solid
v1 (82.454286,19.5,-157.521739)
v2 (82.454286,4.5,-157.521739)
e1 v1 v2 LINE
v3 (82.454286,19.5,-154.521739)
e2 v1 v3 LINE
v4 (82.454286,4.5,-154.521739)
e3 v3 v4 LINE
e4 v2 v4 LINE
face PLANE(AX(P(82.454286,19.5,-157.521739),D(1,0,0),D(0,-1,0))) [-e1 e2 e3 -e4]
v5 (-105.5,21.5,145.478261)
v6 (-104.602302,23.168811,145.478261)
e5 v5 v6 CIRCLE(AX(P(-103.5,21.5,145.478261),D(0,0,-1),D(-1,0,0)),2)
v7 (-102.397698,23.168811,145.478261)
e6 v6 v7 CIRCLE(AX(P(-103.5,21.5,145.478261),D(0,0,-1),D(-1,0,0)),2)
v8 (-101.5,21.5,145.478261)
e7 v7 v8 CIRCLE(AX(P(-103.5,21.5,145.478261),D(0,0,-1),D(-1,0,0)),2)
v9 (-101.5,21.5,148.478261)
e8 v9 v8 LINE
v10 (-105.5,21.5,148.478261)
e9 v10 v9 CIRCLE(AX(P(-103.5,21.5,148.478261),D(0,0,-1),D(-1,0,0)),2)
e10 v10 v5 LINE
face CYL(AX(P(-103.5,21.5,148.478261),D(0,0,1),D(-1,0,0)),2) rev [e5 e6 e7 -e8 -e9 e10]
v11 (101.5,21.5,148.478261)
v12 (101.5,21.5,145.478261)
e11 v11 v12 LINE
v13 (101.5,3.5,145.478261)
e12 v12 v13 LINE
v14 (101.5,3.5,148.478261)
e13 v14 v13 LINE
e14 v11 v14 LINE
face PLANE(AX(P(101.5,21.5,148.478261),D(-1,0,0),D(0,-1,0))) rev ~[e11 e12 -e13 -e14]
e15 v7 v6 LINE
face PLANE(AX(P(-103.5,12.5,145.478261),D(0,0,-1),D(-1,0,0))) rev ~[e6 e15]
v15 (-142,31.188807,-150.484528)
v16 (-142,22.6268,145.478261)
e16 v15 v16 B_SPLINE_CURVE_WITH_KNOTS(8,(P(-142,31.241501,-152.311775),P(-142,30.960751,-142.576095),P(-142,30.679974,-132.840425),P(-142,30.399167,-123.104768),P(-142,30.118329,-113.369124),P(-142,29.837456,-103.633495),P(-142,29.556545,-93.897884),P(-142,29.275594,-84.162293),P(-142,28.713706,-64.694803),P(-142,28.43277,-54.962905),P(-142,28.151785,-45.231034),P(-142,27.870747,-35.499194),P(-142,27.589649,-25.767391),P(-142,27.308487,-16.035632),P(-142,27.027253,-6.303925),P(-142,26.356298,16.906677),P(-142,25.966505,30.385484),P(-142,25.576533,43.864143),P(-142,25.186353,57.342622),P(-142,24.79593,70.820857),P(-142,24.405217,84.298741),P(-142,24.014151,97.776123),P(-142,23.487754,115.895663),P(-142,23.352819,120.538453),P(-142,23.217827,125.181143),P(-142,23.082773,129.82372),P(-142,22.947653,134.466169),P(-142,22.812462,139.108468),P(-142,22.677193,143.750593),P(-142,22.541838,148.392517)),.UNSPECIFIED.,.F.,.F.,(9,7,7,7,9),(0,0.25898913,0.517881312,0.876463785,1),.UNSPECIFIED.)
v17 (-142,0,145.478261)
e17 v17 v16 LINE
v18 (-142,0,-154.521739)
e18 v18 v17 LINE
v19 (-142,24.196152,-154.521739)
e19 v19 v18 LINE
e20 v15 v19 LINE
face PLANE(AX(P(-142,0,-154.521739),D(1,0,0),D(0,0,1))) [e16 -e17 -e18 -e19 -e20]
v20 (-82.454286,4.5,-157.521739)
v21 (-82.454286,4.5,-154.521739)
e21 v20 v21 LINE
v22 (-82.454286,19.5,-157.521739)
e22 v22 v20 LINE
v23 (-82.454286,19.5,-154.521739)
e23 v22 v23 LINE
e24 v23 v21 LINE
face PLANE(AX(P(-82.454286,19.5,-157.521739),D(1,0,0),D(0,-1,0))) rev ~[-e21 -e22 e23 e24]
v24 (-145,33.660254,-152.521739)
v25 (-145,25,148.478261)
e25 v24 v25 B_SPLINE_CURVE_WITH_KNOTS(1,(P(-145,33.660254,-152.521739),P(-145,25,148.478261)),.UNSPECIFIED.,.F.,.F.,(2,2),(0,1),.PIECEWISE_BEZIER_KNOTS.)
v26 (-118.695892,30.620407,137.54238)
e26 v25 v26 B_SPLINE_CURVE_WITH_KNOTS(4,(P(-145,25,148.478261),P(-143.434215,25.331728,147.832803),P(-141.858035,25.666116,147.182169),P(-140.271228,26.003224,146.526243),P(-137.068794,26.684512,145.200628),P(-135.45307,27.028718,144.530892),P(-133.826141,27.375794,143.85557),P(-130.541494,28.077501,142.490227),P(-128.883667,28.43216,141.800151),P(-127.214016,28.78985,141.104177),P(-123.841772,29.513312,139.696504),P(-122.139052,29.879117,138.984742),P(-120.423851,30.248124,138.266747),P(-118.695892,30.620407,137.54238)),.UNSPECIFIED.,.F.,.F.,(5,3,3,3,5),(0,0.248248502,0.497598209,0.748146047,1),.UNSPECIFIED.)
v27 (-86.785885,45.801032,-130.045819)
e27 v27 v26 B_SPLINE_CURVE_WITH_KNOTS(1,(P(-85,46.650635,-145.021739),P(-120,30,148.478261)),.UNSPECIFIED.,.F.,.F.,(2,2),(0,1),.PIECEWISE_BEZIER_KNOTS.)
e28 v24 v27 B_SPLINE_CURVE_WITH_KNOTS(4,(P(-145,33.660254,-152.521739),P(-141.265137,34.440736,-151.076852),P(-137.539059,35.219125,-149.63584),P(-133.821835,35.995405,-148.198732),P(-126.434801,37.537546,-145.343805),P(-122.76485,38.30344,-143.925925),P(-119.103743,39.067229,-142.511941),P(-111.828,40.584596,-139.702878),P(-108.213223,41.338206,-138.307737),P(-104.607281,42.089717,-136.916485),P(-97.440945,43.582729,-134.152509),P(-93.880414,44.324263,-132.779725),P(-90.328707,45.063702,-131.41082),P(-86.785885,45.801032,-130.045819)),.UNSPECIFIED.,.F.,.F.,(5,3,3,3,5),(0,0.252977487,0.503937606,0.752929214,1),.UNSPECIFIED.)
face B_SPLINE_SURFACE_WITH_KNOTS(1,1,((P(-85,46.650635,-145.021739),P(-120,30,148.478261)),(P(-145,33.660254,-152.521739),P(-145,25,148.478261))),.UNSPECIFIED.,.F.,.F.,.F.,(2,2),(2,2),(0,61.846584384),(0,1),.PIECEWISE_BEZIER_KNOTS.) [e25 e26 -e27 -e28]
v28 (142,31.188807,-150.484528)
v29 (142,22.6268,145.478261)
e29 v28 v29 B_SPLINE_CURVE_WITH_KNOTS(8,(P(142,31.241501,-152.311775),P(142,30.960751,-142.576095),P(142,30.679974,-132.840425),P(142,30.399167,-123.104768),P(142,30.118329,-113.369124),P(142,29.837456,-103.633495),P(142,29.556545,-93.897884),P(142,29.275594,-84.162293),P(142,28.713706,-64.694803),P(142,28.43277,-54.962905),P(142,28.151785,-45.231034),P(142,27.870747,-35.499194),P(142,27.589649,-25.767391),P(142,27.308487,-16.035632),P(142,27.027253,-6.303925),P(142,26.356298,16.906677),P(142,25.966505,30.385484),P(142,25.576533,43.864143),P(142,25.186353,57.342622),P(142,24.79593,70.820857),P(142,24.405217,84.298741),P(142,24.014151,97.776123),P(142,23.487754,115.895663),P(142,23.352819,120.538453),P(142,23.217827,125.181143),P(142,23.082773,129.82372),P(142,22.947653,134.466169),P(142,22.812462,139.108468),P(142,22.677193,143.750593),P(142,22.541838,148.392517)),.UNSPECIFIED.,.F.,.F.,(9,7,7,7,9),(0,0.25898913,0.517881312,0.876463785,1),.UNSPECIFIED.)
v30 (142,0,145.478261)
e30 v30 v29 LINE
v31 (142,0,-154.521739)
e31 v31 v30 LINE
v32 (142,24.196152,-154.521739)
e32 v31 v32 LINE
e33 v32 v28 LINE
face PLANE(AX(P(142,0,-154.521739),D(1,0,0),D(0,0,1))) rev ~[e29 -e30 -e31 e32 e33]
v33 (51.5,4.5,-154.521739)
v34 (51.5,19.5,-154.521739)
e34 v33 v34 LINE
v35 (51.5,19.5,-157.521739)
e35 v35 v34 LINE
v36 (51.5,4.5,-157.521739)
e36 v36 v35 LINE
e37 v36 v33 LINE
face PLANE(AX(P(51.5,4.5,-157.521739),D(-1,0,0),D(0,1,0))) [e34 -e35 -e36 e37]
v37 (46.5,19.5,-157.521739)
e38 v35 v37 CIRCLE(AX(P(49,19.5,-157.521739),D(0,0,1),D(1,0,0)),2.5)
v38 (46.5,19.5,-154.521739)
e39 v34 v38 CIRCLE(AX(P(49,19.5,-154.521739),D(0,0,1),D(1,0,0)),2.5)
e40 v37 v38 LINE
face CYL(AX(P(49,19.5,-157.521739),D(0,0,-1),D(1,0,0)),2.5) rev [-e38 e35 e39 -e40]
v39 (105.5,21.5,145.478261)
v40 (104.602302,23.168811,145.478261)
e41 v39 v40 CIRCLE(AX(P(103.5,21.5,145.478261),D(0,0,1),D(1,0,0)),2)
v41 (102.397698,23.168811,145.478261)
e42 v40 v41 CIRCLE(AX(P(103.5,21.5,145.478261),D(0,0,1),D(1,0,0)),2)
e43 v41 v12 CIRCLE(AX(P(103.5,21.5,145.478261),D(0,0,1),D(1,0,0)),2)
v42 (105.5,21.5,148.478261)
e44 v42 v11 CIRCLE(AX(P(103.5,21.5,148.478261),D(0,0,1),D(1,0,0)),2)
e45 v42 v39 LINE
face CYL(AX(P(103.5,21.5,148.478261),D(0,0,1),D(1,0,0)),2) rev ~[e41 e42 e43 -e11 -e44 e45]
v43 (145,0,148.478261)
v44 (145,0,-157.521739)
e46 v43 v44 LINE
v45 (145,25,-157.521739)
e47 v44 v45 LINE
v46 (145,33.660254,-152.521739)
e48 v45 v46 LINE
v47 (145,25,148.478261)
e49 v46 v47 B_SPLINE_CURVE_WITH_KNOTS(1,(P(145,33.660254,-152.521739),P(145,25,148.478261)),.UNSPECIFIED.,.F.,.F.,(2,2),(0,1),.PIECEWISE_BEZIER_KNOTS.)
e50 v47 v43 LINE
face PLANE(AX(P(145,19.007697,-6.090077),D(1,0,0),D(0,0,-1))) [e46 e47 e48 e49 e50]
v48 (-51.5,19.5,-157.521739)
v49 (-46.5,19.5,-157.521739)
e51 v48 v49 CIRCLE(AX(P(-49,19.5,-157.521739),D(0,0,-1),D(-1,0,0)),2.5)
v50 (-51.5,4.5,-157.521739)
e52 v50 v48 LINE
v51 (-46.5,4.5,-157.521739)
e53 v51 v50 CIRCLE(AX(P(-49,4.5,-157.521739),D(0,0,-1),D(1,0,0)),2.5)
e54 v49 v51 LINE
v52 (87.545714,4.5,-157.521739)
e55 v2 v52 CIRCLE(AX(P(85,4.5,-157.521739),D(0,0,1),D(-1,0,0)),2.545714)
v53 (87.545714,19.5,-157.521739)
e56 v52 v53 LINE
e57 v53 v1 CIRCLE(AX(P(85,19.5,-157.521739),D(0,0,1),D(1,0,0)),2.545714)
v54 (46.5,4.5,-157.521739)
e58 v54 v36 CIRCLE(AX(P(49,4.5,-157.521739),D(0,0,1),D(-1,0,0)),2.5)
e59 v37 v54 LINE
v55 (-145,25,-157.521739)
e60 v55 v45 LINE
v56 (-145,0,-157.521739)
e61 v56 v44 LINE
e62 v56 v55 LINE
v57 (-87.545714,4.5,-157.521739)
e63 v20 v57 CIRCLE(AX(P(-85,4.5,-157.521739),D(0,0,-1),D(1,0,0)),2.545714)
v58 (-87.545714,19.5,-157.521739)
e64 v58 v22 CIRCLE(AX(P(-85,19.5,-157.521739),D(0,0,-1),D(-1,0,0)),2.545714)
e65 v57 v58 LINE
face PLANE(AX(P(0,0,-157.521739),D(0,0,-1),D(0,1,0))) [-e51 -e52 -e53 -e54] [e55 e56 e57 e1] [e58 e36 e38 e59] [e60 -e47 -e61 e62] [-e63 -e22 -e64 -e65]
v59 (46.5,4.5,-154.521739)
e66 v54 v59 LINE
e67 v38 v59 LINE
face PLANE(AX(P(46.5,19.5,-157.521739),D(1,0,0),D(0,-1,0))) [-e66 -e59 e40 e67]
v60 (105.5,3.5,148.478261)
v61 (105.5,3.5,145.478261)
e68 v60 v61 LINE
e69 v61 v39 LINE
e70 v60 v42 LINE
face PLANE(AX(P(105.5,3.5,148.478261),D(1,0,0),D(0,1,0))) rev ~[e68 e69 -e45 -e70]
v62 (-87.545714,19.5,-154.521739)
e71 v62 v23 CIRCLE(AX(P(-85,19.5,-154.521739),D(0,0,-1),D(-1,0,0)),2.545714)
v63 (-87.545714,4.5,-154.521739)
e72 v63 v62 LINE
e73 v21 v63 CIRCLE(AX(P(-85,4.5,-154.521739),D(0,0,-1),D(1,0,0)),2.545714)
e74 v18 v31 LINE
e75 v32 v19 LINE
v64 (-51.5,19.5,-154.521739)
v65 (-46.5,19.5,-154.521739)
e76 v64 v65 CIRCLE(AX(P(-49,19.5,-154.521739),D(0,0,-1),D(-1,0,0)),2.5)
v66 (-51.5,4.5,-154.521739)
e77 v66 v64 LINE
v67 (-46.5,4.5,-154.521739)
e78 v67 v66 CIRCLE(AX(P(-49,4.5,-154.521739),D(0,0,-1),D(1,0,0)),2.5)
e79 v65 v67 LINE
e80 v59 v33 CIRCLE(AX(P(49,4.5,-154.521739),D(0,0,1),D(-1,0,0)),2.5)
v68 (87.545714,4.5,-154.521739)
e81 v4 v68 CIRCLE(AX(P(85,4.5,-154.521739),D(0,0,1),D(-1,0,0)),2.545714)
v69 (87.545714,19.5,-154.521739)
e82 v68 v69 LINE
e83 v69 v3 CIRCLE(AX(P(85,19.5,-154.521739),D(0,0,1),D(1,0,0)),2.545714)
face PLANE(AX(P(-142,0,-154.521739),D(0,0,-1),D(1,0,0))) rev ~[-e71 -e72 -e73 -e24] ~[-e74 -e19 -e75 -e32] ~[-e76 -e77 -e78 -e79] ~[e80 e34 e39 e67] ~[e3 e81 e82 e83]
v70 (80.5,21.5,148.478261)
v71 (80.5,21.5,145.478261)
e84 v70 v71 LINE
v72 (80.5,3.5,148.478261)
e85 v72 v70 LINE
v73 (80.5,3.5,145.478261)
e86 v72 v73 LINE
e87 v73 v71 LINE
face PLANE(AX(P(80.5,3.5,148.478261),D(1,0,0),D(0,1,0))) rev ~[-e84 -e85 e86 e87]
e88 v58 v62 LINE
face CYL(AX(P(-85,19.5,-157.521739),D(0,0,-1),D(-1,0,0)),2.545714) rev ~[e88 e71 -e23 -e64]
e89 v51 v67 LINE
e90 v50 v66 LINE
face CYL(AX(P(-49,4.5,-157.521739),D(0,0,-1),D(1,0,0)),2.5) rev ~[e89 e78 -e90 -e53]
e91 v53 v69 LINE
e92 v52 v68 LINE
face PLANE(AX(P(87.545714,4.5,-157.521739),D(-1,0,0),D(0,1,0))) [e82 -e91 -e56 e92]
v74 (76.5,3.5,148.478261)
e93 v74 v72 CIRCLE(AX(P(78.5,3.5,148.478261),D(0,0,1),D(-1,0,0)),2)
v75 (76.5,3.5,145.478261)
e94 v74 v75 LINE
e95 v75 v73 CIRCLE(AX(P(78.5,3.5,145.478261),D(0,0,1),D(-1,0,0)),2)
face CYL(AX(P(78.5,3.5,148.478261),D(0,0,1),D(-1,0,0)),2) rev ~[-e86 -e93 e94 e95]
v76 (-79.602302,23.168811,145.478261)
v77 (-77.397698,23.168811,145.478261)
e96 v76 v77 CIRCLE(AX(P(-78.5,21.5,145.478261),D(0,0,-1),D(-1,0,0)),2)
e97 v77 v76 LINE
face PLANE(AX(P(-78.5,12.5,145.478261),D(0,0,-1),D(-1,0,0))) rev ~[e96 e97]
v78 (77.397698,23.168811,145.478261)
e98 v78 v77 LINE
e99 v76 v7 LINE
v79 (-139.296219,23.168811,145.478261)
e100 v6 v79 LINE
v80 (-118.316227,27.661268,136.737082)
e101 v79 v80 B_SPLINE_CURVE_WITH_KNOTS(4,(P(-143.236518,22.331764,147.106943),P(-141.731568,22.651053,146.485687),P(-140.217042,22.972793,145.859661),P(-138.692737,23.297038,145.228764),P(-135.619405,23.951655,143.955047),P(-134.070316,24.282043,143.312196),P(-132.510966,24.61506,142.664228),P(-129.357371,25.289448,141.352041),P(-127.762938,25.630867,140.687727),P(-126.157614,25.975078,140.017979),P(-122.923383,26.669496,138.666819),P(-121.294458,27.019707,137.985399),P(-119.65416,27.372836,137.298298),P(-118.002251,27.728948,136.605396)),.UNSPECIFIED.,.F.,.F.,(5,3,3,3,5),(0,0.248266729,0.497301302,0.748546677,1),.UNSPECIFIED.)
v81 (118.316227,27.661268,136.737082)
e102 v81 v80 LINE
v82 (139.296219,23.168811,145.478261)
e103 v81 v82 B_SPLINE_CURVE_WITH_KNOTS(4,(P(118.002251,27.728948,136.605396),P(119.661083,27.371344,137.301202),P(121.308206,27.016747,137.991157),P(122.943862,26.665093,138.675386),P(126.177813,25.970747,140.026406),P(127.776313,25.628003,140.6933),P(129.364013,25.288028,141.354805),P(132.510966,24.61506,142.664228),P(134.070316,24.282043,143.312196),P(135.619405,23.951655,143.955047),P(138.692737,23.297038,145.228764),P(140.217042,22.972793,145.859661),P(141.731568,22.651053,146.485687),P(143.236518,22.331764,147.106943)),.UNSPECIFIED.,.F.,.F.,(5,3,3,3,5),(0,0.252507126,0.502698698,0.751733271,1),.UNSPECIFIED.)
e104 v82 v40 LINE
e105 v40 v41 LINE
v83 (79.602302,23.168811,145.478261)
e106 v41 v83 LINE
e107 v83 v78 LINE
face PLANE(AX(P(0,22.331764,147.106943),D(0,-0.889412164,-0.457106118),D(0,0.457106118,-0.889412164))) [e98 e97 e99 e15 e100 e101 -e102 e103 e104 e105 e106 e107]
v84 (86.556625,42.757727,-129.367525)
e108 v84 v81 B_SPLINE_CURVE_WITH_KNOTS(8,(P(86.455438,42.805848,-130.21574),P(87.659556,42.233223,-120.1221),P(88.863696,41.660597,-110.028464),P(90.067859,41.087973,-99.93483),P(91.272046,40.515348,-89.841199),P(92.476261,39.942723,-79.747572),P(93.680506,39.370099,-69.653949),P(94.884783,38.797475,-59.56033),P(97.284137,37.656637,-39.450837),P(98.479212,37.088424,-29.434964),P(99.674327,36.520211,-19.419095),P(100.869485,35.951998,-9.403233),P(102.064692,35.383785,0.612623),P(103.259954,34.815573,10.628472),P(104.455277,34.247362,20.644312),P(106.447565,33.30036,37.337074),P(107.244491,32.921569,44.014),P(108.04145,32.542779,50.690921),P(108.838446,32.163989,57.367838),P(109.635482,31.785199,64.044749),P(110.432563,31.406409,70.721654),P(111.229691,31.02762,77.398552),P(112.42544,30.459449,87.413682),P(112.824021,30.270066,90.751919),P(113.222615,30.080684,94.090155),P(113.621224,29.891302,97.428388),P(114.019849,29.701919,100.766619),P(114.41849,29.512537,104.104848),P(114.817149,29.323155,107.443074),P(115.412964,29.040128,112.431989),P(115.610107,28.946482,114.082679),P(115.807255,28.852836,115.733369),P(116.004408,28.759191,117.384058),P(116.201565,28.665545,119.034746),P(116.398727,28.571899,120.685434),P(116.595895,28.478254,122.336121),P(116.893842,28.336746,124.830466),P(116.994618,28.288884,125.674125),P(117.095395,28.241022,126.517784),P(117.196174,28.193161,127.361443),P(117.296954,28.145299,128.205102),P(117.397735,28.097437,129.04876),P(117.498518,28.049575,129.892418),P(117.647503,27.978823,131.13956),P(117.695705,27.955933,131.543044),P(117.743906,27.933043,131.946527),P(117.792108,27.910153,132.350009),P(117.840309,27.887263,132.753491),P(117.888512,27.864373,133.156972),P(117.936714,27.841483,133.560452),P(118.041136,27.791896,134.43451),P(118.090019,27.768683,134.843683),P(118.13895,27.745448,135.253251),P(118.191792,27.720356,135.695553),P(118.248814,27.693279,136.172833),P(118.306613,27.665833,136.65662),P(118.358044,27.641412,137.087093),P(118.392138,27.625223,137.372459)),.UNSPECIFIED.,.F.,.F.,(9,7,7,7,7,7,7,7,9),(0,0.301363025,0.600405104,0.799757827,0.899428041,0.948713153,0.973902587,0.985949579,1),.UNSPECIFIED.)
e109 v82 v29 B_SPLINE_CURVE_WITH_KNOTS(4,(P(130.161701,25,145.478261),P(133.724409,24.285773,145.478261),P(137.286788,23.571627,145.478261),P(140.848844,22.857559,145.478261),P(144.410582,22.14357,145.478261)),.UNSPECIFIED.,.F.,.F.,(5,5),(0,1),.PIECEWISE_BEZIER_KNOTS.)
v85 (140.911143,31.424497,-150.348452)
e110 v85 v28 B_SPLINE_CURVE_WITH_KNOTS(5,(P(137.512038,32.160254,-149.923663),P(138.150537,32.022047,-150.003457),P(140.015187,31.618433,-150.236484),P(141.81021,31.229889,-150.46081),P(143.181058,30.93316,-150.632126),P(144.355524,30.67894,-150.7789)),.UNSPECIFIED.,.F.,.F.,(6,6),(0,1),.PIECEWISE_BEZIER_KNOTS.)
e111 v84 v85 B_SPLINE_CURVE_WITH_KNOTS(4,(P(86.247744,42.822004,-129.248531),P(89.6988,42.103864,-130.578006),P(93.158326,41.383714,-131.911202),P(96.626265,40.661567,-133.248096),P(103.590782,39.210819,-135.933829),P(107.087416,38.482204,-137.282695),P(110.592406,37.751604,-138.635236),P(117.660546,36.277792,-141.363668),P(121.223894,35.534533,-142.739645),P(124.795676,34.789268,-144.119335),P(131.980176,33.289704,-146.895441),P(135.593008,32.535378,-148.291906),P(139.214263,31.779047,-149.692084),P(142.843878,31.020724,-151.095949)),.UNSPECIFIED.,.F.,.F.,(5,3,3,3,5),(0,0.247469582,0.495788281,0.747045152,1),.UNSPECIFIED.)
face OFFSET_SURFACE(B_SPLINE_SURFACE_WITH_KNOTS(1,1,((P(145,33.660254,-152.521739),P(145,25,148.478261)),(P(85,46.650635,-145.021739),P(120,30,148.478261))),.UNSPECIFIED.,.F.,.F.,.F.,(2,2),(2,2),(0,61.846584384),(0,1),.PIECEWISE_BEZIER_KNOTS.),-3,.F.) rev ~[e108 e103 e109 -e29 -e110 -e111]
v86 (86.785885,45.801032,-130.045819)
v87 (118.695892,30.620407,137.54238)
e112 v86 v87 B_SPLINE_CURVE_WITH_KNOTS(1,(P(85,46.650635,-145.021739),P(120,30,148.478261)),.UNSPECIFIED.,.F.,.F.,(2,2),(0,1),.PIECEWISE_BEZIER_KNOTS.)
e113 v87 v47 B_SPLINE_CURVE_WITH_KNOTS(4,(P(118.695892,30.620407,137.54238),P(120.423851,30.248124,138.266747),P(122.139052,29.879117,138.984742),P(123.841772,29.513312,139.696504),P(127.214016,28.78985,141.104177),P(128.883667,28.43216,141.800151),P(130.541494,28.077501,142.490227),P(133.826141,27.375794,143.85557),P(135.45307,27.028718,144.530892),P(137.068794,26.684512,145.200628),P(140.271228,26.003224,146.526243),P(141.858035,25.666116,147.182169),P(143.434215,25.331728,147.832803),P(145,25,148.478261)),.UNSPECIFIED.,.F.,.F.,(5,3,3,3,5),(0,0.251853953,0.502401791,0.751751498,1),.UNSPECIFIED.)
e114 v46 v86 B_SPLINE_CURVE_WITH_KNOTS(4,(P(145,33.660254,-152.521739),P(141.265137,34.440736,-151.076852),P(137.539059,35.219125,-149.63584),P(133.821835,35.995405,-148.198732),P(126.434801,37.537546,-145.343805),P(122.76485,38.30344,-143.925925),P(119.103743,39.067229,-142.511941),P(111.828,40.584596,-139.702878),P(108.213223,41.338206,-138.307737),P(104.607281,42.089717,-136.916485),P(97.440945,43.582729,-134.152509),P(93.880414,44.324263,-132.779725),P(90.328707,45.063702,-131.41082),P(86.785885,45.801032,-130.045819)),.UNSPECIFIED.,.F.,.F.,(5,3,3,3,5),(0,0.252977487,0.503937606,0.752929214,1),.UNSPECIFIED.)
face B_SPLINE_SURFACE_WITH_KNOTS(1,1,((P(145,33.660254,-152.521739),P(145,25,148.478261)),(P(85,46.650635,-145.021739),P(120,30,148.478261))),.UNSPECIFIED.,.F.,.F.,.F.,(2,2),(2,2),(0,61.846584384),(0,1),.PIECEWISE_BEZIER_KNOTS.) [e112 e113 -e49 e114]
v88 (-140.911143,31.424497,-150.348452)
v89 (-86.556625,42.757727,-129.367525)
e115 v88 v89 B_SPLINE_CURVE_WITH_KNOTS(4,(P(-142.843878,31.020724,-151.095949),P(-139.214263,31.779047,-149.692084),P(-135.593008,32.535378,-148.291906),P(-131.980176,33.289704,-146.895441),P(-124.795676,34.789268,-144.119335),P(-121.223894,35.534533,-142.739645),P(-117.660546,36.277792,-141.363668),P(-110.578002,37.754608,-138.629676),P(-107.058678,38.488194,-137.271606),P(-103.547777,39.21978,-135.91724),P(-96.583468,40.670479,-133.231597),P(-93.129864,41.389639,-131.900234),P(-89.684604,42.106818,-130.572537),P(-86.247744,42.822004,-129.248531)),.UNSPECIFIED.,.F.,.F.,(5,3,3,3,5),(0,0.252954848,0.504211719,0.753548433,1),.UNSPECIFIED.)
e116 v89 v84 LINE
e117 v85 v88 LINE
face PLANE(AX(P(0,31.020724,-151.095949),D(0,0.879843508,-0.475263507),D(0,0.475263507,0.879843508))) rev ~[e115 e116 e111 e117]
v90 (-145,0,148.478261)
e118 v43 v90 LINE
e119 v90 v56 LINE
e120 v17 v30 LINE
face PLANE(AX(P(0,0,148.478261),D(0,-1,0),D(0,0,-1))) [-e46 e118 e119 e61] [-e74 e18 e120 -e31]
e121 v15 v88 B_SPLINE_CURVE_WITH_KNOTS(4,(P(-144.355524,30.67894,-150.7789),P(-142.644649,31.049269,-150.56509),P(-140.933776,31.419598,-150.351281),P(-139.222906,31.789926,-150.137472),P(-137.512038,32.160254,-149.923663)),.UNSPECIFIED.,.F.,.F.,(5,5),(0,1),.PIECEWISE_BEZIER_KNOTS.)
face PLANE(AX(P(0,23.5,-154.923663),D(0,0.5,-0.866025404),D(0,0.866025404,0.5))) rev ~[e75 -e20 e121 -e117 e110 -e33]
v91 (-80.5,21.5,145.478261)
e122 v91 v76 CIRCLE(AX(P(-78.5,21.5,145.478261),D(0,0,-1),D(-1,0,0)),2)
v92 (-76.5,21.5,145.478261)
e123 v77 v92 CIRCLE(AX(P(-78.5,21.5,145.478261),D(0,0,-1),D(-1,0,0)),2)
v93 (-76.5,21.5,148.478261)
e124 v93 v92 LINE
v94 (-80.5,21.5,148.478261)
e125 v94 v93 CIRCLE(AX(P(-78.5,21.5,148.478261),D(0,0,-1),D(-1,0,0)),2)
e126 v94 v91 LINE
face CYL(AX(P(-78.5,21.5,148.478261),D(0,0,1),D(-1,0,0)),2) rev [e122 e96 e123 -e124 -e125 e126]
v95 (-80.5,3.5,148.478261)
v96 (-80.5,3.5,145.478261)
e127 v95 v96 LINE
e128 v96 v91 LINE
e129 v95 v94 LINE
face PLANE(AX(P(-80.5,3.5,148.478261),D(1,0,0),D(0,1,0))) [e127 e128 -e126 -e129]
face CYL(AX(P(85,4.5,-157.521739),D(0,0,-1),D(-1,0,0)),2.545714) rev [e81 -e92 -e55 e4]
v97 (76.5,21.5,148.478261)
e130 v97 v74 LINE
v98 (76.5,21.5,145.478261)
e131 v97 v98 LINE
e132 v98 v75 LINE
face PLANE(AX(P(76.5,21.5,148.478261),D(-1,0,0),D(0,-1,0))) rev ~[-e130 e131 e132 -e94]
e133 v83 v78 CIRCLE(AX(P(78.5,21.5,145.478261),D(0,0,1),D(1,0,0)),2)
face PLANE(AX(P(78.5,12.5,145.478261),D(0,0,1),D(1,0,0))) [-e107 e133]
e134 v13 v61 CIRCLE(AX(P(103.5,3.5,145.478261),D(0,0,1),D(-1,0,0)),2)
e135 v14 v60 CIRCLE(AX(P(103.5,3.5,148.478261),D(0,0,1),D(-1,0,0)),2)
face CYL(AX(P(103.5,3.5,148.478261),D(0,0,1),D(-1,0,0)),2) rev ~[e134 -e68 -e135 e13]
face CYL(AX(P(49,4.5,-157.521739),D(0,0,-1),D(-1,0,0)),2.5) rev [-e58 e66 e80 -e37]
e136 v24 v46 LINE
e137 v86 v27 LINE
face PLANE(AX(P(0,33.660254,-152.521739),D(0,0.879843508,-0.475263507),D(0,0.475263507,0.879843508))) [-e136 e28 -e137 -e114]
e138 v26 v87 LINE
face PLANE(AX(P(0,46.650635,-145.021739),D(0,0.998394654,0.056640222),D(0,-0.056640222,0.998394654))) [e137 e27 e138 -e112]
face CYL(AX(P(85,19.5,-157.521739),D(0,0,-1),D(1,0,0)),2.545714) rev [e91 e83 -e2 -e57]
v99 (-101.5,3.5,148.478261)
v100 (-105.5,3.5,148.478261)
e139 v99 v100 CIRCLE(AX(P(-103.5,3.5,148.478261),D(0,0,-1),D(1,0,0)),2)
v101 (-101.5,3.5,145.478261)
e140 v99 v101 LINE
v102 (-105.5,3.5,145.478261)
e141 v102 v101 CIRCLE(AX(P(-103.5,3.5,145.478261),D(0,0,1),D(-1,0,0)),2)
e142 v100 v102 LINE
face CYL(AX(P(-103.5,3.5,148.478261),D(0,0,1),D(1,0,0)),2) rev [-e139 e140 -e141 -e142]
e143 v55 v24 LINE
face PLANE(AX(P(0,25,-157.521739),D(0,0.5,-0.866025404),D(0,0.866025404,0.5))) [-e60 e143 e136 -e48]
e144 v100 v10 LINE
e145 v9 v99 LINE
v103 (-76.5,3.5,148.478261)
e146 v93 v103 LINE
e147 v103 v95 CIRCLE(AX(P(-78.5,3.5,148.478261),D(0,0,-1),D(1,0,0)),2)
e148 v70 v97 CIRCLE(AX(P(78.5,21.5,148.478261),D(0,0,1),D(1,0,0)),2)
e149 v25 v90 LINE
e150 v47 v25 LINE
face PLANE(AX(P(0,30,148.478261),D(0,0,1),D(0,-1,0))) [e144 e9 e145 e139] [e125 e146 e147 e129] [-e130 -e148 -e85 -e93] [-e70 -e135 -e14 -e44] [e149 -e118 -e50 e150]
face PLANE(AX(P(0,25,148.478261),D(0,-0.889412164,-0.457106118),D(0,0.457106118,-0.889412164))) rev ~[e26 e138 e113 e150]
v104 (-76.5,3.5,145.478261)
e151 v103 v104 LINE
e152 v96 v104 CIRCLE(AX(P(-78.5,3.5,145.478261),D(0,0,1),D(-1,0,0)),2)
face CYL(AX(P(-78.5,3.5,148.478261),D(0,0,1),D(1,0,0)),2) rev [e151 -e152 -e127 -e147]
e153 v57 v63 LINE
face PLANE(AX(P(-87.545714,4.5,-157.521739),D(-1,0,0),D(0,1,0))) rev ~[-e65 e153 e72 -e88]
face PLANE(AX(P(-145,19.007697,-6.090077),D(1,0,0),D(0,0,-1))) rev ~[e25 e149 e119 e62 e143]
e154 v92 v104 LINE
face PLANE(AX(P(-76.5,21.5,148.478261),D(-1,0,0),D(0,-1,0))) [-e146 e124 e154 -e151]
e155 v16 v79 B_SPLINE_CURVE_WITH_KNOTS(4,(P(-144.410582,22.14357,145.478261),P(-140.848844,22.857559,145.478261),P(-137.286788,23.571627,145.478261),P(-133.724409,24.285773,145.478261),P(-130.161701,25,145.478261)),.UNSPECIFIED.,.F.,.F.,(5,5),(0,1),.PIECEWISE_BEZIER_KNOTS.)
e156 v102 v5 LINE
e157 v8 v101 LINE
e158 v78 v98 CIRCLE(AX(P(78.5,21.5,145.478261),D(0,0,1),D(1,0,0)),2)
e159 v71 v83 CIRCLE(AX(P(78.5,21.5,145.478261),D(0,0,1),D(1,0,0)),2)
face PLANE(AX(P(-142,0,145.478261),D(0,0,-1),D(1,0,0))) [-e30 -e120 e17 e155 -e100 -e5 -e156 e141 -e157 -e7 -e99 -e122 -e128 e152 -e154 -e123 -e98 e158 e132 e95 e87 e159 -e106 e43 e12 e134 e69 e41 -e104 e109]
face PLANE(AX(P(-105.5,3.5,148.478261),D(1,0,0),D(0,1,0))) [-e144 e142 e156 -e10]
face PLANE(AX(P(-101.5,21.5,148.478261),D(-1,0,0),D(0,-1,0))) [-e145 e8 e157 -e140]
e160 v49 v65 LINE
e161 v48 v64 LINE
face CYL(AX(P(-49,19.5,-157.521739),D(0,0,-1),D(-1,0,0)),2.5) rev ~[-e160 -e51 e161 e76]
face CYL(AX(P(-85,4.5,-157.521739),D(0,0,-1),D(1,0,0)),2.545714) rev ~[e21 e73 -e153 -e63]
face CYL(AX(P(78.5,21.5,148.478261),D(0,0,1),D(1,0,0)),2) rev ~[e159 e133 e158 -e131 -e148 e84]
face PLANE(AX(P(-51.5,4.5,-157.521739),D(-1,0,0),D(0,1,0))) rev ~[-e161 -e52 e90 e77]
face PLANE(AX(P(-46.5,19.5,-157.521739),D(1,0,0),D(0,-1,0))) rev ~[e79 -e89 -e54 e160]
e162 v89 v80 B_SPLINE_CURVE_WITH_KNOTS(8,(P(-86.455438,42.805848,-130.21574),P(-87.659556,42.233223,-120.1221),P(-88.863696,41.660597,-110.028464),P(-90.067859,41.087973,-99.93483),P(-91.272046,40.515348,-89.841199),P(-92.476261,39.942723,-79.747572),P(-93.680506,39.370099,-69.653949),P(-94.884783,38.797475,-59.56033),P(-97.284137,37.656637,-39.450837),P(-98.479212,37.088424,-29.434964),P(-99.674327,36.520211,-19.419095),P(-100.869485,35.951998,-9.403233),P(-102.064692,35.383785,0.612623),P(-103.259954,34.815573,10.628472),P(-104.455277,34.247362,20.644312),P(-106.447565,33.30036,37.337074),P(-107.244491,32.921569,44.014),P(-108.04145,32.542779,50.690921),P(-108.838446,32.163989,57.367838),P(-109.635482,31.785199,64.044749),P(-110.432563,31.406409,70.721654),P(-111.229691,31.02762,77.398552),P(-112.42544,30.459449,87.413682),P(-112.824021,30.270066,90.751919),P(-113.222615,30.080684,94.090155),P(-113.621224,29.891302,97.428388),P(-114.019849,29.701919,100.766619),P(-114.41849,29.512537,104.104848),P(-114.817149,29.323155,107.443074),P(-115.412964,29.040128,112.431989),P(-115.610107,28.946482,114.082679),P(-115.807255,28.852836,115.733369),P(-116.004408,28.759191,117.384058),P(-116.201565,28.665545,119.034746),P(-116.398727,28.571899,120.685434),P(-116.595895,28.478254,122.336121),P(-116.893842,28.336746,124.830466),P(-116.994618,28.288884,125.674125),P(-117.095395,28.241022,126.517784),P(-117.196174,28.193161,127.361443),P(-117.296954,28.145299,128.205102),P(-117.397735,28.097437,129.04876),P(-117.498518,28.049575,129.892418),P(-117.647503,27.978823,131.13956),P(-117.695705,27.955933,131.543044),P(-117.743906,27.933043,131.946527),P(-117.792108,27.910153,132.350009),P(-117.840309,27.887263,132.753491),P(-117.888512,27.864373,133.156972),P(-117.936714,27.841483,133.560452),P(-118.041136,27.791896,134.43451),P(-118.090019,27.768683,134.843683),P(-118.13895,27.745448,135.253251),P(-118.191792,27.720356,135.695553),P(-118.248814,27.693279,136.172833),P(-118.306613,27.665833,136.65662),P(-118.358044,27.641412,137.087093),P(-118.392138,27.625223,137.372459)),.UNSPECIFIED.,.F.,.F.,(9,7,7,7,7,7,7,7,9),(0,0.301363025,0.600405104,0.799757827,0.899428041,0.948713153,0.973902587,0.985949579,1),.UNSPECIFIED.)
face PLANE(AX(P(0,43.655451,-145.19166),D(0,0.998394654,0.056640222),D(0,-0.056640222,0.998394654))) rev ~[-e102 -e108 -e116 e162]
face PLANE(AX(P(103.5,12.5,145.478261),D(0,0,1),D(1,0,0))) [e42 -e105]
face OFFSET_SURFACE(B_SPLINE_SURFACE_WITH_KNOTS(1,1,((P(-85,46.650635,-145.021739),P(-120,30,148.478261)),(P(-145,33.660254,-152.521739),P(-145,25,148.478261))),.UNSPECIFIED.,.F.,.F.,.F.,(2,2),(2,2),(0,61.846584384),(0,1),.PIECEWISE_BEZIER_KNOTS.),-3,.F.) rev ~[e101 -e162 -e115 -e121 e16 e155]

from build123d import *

# Parameters (mm, degrees)
EXTRUDE_1_DEPTH     = 145
CUT_EXTRUDE_1_DEPTH = 150
CUT_EXTRUDE_2_DEPTH = 150
SHELL_1_T           = 3
CUT_EXTRUDE_4_DEPTH = 3
SKETCH_13_W         = 284
SKETCH_13_H         = 300
CUT_EXTRUDE_5_DEPTH = 3
CUT_EXTRUDE_6_DEPTH = 3


with BuildPart() as part:
    # 草图4 → 凸台-拉伸1 (new, symmetric)
    with BuildSketch(Plane(origin=(0, 0, 0), x_dir=(0, 0, -1), z_dir=(1, 0, 0))):
        Polygon((-148.47826087, 0), (157.52173913, 0), (157.52173913, 25), (145.02173913, 46.650635095), (-148.47826087, 30), align=None)
    extrude(amount=EXTRUDE_1_DEPTH, both=True)

    # 草图5 → 切除-放样1 section 0
    with BuildSketch(Plane(origin=(0, 74.458913868, -128.966621895), x_dir=(-1, 0, 0), z_dir=(0, 0.500000000000004, -0.8660254037844364))):
        with BuildLine():
            Line((-145, -47.110234471), (-85, -32.110234471))
            Line((-85, -32.110234471), (-145, -32.110234471))
            Line((-145, -32.110234471), (-145, -47.110234471))
        make_face()
    # 草图6 → 切除-放样1 section 1
    with BuildSketch(Plane.XY.offset(148.47826087)):
        with BuildLine():
            Line((145, 30), (120, 30))
            Line((120, 30), (145, 25))
            Line((145, 25), (145, 30))
        make_face()
    loft(mode=Mode.SUBTRACT)

    # 草图7 → 切除-放样2 section 0
    with BuildSketch(Plane(origin=(0, 74.458913868, -128.966621895), x_dir=(-1, 0, 0), z_dir=(0, 0.500000000000004, -0.8660254037844364))):
        with BuildLine():
            Line((145, -32.110234471), (85, -32.110234471))
            Line((85, -32.110234471), (145, -47.110234471))
            Line((145, -47.110234471), (145, -32.110234471))
        make_face()
    # 草图8 → 切除-放样2 section 1
    with BuildSketch(Plane.XY.offset(148.47826087)):
        with BuildLine():
            Line((-120, 30), (-145, 30))
            Line((-145, 30), (-145, 25))
            Line((-145, 25), (-120, 30))
        make_face()
    loft(mode=Mode.SUBTRACT)

    # 草图9 → 切除-拉伸1 (cut, symmetric)
    with BuildSketch(Plane(origin=(0, 0, 0), x_dir=(0, 0, -1), z_dir=(1, 0, 0))):
        Polygon((-148.47826087, 25), (-137.542379964, 30.620406686), (-148.47826087, 30), align=None)
    extrude(amount=CUT_EXTRUDE_1_DEPTH, both=True, mode=Mode.SUBTRACT)

    # 草图10 → 切除-拉伸2 (cut, symmetric)
    with BuildSketch(Plane(origin=(0, 0, 0), x_dir=(0, 0, -1), z_dir=(1, 0, 0))):
        Polygon((152.52173913, 33.660254038), (130.045819319, 45.801031769), (145.02173913, 46.650635095), align=None)
    extrude(amount=CUT_EXTRUDE_2_DEPTH, both=True, mode=Mode.SUBTRACT)

    # 抽壳1 (no face opened: a closed hollow body)
    add(offset(amount=-SHELL_1_T, mode=Mode.PRIVATE), mode=Mode.SUBTRACT)

    # 草图12 → 切除-拉伸4 (cut)
    with BuildSketch(Plane.XY.offset(148.47826087)):
        with BuildLine():
            Line((-76.5, 21.5), (-76.5, 3.5))
            ThreePointArc((-76.5, 3.5), (-78.5, 1.5), (-80.5, 3.5))
            Line((-80.5, 3.5), (-80.5, 21.5))
            ThreePointArc((-80.5, 21.5), (-78.5, 23.5), (-76.5, 21.5))
        make_face()
        with BuildLine():
            Line((-101.5, 21.5), (-101.5, 3.5))
            ThreePointArc((-101.5, 3.5), (-103.5, 1.5), (-105.5, 3.5))
            Line((-105.5, 3.5), (-105.5, 21.5))
            ThreePointArc((-105.5, 21.5), (-103.5, 23.5), (-101.5, 21.5))
        make_face()
        with BuildLine():
            Line((76.5, 21.5), (76.5, 3.5))
            ThreePointArc((76.5, 3.5), (78.5, 1.5), (80.5, 3.5))
            Line((80.5, 3.5), (80.5, 21.5))
            ThreePointArc((80.5, 21.5), (78.5, 23.5), (76.5, 21.5))
        make_face()
        with BuildLine():
            Line((101.5, 21.5), (101.5, 3.5))
            ThreePointArc((101.5, 3.5), (103.5, 1.5), (105.5, 3.5))
            Line((105.5, 3.5), (105.5, 21.5))
            ThreePointArc((105.5, 21.5), (103.5, 23.5), (101.5, 21.5))
        make_face()
    extrude(amount=-CUT_EXTRUDE_4_DEPTH, mode=Mode.SUBTRACT)

    # 草图13 → 切除-拉伸5 (cut)
    with BuildSketch(Plane.XZ):
        with Locations((0, -4.52173913)):
            Rectangle(SKETCH_13_W, SKETCH_13_H)
    extrude(amount=-CUT_EXTRUDE_5_DEPTH, mode=Mode.SUBTRACT)

    # 草图14 → 切除-拉伸6 (cut)
    with BuildSketch(Plane(origin=(0, 0, -157.52173913), x_dir=(-1, 0, 0), z_dir=(0, 0, -1))):
        with BuildLine():
            Line((-46.5, 19.5), (-46.5, 4.5))
            ThreePointArc((-46.5, 4.5), (-49, 2), (-51.5, 4.5))
            Line((-51.5, 4.5), (-51.5, 19.5))
            ThreePointArc((-51.5, 19.5), (-49, 22), (-46.5, 19.5))
        make_face()
        with BuildLine():
            Line((-82.454286499, 19.5), (-82.454286499, 4.5))
            ThreePointArc((-82.454286499, 4.5), (-85, 1.954286499), (-87.545713501, 4.5))
            Line((-87.545713501, 4.5), (-87.545713501, 19.5))
            ThreePointArc((-87.545713501, 19.5), (-85, 22.045713501), (-82.454286499, 19.5))
        make_face()
        with BuildLine():
            Line((46.5, 19.5), (46.5, 4.5))
            ThreePointArc((46.5, 4.5), (49, 2), (51.5, 4.5))
            Line((51.5, 4.5), (51.5, 19.5))
            ThreePointArc((51.5, 19.5), (49, 22), (46.5, 19.5))
        make_face()
        with BuildLine():
            Line((82.454286499, 19.5), (82.454286499, 4.5))
            ThreePointArc((82.454286499, 4.5), (85, 1.954286499), (87.545713501, 4.5))
            Line((87.545713501, 4.5), (87.545713501, 19.5))
            ThreePointArc((87.545713501, 19.5), (85, 22.045713501), (82.454286499, 19.5))
        make_face()
    extrude(amount=-CUT_EXTRUDE_6_DEPTH, mode=Mode.SUBTRACT)


solid = part.part
